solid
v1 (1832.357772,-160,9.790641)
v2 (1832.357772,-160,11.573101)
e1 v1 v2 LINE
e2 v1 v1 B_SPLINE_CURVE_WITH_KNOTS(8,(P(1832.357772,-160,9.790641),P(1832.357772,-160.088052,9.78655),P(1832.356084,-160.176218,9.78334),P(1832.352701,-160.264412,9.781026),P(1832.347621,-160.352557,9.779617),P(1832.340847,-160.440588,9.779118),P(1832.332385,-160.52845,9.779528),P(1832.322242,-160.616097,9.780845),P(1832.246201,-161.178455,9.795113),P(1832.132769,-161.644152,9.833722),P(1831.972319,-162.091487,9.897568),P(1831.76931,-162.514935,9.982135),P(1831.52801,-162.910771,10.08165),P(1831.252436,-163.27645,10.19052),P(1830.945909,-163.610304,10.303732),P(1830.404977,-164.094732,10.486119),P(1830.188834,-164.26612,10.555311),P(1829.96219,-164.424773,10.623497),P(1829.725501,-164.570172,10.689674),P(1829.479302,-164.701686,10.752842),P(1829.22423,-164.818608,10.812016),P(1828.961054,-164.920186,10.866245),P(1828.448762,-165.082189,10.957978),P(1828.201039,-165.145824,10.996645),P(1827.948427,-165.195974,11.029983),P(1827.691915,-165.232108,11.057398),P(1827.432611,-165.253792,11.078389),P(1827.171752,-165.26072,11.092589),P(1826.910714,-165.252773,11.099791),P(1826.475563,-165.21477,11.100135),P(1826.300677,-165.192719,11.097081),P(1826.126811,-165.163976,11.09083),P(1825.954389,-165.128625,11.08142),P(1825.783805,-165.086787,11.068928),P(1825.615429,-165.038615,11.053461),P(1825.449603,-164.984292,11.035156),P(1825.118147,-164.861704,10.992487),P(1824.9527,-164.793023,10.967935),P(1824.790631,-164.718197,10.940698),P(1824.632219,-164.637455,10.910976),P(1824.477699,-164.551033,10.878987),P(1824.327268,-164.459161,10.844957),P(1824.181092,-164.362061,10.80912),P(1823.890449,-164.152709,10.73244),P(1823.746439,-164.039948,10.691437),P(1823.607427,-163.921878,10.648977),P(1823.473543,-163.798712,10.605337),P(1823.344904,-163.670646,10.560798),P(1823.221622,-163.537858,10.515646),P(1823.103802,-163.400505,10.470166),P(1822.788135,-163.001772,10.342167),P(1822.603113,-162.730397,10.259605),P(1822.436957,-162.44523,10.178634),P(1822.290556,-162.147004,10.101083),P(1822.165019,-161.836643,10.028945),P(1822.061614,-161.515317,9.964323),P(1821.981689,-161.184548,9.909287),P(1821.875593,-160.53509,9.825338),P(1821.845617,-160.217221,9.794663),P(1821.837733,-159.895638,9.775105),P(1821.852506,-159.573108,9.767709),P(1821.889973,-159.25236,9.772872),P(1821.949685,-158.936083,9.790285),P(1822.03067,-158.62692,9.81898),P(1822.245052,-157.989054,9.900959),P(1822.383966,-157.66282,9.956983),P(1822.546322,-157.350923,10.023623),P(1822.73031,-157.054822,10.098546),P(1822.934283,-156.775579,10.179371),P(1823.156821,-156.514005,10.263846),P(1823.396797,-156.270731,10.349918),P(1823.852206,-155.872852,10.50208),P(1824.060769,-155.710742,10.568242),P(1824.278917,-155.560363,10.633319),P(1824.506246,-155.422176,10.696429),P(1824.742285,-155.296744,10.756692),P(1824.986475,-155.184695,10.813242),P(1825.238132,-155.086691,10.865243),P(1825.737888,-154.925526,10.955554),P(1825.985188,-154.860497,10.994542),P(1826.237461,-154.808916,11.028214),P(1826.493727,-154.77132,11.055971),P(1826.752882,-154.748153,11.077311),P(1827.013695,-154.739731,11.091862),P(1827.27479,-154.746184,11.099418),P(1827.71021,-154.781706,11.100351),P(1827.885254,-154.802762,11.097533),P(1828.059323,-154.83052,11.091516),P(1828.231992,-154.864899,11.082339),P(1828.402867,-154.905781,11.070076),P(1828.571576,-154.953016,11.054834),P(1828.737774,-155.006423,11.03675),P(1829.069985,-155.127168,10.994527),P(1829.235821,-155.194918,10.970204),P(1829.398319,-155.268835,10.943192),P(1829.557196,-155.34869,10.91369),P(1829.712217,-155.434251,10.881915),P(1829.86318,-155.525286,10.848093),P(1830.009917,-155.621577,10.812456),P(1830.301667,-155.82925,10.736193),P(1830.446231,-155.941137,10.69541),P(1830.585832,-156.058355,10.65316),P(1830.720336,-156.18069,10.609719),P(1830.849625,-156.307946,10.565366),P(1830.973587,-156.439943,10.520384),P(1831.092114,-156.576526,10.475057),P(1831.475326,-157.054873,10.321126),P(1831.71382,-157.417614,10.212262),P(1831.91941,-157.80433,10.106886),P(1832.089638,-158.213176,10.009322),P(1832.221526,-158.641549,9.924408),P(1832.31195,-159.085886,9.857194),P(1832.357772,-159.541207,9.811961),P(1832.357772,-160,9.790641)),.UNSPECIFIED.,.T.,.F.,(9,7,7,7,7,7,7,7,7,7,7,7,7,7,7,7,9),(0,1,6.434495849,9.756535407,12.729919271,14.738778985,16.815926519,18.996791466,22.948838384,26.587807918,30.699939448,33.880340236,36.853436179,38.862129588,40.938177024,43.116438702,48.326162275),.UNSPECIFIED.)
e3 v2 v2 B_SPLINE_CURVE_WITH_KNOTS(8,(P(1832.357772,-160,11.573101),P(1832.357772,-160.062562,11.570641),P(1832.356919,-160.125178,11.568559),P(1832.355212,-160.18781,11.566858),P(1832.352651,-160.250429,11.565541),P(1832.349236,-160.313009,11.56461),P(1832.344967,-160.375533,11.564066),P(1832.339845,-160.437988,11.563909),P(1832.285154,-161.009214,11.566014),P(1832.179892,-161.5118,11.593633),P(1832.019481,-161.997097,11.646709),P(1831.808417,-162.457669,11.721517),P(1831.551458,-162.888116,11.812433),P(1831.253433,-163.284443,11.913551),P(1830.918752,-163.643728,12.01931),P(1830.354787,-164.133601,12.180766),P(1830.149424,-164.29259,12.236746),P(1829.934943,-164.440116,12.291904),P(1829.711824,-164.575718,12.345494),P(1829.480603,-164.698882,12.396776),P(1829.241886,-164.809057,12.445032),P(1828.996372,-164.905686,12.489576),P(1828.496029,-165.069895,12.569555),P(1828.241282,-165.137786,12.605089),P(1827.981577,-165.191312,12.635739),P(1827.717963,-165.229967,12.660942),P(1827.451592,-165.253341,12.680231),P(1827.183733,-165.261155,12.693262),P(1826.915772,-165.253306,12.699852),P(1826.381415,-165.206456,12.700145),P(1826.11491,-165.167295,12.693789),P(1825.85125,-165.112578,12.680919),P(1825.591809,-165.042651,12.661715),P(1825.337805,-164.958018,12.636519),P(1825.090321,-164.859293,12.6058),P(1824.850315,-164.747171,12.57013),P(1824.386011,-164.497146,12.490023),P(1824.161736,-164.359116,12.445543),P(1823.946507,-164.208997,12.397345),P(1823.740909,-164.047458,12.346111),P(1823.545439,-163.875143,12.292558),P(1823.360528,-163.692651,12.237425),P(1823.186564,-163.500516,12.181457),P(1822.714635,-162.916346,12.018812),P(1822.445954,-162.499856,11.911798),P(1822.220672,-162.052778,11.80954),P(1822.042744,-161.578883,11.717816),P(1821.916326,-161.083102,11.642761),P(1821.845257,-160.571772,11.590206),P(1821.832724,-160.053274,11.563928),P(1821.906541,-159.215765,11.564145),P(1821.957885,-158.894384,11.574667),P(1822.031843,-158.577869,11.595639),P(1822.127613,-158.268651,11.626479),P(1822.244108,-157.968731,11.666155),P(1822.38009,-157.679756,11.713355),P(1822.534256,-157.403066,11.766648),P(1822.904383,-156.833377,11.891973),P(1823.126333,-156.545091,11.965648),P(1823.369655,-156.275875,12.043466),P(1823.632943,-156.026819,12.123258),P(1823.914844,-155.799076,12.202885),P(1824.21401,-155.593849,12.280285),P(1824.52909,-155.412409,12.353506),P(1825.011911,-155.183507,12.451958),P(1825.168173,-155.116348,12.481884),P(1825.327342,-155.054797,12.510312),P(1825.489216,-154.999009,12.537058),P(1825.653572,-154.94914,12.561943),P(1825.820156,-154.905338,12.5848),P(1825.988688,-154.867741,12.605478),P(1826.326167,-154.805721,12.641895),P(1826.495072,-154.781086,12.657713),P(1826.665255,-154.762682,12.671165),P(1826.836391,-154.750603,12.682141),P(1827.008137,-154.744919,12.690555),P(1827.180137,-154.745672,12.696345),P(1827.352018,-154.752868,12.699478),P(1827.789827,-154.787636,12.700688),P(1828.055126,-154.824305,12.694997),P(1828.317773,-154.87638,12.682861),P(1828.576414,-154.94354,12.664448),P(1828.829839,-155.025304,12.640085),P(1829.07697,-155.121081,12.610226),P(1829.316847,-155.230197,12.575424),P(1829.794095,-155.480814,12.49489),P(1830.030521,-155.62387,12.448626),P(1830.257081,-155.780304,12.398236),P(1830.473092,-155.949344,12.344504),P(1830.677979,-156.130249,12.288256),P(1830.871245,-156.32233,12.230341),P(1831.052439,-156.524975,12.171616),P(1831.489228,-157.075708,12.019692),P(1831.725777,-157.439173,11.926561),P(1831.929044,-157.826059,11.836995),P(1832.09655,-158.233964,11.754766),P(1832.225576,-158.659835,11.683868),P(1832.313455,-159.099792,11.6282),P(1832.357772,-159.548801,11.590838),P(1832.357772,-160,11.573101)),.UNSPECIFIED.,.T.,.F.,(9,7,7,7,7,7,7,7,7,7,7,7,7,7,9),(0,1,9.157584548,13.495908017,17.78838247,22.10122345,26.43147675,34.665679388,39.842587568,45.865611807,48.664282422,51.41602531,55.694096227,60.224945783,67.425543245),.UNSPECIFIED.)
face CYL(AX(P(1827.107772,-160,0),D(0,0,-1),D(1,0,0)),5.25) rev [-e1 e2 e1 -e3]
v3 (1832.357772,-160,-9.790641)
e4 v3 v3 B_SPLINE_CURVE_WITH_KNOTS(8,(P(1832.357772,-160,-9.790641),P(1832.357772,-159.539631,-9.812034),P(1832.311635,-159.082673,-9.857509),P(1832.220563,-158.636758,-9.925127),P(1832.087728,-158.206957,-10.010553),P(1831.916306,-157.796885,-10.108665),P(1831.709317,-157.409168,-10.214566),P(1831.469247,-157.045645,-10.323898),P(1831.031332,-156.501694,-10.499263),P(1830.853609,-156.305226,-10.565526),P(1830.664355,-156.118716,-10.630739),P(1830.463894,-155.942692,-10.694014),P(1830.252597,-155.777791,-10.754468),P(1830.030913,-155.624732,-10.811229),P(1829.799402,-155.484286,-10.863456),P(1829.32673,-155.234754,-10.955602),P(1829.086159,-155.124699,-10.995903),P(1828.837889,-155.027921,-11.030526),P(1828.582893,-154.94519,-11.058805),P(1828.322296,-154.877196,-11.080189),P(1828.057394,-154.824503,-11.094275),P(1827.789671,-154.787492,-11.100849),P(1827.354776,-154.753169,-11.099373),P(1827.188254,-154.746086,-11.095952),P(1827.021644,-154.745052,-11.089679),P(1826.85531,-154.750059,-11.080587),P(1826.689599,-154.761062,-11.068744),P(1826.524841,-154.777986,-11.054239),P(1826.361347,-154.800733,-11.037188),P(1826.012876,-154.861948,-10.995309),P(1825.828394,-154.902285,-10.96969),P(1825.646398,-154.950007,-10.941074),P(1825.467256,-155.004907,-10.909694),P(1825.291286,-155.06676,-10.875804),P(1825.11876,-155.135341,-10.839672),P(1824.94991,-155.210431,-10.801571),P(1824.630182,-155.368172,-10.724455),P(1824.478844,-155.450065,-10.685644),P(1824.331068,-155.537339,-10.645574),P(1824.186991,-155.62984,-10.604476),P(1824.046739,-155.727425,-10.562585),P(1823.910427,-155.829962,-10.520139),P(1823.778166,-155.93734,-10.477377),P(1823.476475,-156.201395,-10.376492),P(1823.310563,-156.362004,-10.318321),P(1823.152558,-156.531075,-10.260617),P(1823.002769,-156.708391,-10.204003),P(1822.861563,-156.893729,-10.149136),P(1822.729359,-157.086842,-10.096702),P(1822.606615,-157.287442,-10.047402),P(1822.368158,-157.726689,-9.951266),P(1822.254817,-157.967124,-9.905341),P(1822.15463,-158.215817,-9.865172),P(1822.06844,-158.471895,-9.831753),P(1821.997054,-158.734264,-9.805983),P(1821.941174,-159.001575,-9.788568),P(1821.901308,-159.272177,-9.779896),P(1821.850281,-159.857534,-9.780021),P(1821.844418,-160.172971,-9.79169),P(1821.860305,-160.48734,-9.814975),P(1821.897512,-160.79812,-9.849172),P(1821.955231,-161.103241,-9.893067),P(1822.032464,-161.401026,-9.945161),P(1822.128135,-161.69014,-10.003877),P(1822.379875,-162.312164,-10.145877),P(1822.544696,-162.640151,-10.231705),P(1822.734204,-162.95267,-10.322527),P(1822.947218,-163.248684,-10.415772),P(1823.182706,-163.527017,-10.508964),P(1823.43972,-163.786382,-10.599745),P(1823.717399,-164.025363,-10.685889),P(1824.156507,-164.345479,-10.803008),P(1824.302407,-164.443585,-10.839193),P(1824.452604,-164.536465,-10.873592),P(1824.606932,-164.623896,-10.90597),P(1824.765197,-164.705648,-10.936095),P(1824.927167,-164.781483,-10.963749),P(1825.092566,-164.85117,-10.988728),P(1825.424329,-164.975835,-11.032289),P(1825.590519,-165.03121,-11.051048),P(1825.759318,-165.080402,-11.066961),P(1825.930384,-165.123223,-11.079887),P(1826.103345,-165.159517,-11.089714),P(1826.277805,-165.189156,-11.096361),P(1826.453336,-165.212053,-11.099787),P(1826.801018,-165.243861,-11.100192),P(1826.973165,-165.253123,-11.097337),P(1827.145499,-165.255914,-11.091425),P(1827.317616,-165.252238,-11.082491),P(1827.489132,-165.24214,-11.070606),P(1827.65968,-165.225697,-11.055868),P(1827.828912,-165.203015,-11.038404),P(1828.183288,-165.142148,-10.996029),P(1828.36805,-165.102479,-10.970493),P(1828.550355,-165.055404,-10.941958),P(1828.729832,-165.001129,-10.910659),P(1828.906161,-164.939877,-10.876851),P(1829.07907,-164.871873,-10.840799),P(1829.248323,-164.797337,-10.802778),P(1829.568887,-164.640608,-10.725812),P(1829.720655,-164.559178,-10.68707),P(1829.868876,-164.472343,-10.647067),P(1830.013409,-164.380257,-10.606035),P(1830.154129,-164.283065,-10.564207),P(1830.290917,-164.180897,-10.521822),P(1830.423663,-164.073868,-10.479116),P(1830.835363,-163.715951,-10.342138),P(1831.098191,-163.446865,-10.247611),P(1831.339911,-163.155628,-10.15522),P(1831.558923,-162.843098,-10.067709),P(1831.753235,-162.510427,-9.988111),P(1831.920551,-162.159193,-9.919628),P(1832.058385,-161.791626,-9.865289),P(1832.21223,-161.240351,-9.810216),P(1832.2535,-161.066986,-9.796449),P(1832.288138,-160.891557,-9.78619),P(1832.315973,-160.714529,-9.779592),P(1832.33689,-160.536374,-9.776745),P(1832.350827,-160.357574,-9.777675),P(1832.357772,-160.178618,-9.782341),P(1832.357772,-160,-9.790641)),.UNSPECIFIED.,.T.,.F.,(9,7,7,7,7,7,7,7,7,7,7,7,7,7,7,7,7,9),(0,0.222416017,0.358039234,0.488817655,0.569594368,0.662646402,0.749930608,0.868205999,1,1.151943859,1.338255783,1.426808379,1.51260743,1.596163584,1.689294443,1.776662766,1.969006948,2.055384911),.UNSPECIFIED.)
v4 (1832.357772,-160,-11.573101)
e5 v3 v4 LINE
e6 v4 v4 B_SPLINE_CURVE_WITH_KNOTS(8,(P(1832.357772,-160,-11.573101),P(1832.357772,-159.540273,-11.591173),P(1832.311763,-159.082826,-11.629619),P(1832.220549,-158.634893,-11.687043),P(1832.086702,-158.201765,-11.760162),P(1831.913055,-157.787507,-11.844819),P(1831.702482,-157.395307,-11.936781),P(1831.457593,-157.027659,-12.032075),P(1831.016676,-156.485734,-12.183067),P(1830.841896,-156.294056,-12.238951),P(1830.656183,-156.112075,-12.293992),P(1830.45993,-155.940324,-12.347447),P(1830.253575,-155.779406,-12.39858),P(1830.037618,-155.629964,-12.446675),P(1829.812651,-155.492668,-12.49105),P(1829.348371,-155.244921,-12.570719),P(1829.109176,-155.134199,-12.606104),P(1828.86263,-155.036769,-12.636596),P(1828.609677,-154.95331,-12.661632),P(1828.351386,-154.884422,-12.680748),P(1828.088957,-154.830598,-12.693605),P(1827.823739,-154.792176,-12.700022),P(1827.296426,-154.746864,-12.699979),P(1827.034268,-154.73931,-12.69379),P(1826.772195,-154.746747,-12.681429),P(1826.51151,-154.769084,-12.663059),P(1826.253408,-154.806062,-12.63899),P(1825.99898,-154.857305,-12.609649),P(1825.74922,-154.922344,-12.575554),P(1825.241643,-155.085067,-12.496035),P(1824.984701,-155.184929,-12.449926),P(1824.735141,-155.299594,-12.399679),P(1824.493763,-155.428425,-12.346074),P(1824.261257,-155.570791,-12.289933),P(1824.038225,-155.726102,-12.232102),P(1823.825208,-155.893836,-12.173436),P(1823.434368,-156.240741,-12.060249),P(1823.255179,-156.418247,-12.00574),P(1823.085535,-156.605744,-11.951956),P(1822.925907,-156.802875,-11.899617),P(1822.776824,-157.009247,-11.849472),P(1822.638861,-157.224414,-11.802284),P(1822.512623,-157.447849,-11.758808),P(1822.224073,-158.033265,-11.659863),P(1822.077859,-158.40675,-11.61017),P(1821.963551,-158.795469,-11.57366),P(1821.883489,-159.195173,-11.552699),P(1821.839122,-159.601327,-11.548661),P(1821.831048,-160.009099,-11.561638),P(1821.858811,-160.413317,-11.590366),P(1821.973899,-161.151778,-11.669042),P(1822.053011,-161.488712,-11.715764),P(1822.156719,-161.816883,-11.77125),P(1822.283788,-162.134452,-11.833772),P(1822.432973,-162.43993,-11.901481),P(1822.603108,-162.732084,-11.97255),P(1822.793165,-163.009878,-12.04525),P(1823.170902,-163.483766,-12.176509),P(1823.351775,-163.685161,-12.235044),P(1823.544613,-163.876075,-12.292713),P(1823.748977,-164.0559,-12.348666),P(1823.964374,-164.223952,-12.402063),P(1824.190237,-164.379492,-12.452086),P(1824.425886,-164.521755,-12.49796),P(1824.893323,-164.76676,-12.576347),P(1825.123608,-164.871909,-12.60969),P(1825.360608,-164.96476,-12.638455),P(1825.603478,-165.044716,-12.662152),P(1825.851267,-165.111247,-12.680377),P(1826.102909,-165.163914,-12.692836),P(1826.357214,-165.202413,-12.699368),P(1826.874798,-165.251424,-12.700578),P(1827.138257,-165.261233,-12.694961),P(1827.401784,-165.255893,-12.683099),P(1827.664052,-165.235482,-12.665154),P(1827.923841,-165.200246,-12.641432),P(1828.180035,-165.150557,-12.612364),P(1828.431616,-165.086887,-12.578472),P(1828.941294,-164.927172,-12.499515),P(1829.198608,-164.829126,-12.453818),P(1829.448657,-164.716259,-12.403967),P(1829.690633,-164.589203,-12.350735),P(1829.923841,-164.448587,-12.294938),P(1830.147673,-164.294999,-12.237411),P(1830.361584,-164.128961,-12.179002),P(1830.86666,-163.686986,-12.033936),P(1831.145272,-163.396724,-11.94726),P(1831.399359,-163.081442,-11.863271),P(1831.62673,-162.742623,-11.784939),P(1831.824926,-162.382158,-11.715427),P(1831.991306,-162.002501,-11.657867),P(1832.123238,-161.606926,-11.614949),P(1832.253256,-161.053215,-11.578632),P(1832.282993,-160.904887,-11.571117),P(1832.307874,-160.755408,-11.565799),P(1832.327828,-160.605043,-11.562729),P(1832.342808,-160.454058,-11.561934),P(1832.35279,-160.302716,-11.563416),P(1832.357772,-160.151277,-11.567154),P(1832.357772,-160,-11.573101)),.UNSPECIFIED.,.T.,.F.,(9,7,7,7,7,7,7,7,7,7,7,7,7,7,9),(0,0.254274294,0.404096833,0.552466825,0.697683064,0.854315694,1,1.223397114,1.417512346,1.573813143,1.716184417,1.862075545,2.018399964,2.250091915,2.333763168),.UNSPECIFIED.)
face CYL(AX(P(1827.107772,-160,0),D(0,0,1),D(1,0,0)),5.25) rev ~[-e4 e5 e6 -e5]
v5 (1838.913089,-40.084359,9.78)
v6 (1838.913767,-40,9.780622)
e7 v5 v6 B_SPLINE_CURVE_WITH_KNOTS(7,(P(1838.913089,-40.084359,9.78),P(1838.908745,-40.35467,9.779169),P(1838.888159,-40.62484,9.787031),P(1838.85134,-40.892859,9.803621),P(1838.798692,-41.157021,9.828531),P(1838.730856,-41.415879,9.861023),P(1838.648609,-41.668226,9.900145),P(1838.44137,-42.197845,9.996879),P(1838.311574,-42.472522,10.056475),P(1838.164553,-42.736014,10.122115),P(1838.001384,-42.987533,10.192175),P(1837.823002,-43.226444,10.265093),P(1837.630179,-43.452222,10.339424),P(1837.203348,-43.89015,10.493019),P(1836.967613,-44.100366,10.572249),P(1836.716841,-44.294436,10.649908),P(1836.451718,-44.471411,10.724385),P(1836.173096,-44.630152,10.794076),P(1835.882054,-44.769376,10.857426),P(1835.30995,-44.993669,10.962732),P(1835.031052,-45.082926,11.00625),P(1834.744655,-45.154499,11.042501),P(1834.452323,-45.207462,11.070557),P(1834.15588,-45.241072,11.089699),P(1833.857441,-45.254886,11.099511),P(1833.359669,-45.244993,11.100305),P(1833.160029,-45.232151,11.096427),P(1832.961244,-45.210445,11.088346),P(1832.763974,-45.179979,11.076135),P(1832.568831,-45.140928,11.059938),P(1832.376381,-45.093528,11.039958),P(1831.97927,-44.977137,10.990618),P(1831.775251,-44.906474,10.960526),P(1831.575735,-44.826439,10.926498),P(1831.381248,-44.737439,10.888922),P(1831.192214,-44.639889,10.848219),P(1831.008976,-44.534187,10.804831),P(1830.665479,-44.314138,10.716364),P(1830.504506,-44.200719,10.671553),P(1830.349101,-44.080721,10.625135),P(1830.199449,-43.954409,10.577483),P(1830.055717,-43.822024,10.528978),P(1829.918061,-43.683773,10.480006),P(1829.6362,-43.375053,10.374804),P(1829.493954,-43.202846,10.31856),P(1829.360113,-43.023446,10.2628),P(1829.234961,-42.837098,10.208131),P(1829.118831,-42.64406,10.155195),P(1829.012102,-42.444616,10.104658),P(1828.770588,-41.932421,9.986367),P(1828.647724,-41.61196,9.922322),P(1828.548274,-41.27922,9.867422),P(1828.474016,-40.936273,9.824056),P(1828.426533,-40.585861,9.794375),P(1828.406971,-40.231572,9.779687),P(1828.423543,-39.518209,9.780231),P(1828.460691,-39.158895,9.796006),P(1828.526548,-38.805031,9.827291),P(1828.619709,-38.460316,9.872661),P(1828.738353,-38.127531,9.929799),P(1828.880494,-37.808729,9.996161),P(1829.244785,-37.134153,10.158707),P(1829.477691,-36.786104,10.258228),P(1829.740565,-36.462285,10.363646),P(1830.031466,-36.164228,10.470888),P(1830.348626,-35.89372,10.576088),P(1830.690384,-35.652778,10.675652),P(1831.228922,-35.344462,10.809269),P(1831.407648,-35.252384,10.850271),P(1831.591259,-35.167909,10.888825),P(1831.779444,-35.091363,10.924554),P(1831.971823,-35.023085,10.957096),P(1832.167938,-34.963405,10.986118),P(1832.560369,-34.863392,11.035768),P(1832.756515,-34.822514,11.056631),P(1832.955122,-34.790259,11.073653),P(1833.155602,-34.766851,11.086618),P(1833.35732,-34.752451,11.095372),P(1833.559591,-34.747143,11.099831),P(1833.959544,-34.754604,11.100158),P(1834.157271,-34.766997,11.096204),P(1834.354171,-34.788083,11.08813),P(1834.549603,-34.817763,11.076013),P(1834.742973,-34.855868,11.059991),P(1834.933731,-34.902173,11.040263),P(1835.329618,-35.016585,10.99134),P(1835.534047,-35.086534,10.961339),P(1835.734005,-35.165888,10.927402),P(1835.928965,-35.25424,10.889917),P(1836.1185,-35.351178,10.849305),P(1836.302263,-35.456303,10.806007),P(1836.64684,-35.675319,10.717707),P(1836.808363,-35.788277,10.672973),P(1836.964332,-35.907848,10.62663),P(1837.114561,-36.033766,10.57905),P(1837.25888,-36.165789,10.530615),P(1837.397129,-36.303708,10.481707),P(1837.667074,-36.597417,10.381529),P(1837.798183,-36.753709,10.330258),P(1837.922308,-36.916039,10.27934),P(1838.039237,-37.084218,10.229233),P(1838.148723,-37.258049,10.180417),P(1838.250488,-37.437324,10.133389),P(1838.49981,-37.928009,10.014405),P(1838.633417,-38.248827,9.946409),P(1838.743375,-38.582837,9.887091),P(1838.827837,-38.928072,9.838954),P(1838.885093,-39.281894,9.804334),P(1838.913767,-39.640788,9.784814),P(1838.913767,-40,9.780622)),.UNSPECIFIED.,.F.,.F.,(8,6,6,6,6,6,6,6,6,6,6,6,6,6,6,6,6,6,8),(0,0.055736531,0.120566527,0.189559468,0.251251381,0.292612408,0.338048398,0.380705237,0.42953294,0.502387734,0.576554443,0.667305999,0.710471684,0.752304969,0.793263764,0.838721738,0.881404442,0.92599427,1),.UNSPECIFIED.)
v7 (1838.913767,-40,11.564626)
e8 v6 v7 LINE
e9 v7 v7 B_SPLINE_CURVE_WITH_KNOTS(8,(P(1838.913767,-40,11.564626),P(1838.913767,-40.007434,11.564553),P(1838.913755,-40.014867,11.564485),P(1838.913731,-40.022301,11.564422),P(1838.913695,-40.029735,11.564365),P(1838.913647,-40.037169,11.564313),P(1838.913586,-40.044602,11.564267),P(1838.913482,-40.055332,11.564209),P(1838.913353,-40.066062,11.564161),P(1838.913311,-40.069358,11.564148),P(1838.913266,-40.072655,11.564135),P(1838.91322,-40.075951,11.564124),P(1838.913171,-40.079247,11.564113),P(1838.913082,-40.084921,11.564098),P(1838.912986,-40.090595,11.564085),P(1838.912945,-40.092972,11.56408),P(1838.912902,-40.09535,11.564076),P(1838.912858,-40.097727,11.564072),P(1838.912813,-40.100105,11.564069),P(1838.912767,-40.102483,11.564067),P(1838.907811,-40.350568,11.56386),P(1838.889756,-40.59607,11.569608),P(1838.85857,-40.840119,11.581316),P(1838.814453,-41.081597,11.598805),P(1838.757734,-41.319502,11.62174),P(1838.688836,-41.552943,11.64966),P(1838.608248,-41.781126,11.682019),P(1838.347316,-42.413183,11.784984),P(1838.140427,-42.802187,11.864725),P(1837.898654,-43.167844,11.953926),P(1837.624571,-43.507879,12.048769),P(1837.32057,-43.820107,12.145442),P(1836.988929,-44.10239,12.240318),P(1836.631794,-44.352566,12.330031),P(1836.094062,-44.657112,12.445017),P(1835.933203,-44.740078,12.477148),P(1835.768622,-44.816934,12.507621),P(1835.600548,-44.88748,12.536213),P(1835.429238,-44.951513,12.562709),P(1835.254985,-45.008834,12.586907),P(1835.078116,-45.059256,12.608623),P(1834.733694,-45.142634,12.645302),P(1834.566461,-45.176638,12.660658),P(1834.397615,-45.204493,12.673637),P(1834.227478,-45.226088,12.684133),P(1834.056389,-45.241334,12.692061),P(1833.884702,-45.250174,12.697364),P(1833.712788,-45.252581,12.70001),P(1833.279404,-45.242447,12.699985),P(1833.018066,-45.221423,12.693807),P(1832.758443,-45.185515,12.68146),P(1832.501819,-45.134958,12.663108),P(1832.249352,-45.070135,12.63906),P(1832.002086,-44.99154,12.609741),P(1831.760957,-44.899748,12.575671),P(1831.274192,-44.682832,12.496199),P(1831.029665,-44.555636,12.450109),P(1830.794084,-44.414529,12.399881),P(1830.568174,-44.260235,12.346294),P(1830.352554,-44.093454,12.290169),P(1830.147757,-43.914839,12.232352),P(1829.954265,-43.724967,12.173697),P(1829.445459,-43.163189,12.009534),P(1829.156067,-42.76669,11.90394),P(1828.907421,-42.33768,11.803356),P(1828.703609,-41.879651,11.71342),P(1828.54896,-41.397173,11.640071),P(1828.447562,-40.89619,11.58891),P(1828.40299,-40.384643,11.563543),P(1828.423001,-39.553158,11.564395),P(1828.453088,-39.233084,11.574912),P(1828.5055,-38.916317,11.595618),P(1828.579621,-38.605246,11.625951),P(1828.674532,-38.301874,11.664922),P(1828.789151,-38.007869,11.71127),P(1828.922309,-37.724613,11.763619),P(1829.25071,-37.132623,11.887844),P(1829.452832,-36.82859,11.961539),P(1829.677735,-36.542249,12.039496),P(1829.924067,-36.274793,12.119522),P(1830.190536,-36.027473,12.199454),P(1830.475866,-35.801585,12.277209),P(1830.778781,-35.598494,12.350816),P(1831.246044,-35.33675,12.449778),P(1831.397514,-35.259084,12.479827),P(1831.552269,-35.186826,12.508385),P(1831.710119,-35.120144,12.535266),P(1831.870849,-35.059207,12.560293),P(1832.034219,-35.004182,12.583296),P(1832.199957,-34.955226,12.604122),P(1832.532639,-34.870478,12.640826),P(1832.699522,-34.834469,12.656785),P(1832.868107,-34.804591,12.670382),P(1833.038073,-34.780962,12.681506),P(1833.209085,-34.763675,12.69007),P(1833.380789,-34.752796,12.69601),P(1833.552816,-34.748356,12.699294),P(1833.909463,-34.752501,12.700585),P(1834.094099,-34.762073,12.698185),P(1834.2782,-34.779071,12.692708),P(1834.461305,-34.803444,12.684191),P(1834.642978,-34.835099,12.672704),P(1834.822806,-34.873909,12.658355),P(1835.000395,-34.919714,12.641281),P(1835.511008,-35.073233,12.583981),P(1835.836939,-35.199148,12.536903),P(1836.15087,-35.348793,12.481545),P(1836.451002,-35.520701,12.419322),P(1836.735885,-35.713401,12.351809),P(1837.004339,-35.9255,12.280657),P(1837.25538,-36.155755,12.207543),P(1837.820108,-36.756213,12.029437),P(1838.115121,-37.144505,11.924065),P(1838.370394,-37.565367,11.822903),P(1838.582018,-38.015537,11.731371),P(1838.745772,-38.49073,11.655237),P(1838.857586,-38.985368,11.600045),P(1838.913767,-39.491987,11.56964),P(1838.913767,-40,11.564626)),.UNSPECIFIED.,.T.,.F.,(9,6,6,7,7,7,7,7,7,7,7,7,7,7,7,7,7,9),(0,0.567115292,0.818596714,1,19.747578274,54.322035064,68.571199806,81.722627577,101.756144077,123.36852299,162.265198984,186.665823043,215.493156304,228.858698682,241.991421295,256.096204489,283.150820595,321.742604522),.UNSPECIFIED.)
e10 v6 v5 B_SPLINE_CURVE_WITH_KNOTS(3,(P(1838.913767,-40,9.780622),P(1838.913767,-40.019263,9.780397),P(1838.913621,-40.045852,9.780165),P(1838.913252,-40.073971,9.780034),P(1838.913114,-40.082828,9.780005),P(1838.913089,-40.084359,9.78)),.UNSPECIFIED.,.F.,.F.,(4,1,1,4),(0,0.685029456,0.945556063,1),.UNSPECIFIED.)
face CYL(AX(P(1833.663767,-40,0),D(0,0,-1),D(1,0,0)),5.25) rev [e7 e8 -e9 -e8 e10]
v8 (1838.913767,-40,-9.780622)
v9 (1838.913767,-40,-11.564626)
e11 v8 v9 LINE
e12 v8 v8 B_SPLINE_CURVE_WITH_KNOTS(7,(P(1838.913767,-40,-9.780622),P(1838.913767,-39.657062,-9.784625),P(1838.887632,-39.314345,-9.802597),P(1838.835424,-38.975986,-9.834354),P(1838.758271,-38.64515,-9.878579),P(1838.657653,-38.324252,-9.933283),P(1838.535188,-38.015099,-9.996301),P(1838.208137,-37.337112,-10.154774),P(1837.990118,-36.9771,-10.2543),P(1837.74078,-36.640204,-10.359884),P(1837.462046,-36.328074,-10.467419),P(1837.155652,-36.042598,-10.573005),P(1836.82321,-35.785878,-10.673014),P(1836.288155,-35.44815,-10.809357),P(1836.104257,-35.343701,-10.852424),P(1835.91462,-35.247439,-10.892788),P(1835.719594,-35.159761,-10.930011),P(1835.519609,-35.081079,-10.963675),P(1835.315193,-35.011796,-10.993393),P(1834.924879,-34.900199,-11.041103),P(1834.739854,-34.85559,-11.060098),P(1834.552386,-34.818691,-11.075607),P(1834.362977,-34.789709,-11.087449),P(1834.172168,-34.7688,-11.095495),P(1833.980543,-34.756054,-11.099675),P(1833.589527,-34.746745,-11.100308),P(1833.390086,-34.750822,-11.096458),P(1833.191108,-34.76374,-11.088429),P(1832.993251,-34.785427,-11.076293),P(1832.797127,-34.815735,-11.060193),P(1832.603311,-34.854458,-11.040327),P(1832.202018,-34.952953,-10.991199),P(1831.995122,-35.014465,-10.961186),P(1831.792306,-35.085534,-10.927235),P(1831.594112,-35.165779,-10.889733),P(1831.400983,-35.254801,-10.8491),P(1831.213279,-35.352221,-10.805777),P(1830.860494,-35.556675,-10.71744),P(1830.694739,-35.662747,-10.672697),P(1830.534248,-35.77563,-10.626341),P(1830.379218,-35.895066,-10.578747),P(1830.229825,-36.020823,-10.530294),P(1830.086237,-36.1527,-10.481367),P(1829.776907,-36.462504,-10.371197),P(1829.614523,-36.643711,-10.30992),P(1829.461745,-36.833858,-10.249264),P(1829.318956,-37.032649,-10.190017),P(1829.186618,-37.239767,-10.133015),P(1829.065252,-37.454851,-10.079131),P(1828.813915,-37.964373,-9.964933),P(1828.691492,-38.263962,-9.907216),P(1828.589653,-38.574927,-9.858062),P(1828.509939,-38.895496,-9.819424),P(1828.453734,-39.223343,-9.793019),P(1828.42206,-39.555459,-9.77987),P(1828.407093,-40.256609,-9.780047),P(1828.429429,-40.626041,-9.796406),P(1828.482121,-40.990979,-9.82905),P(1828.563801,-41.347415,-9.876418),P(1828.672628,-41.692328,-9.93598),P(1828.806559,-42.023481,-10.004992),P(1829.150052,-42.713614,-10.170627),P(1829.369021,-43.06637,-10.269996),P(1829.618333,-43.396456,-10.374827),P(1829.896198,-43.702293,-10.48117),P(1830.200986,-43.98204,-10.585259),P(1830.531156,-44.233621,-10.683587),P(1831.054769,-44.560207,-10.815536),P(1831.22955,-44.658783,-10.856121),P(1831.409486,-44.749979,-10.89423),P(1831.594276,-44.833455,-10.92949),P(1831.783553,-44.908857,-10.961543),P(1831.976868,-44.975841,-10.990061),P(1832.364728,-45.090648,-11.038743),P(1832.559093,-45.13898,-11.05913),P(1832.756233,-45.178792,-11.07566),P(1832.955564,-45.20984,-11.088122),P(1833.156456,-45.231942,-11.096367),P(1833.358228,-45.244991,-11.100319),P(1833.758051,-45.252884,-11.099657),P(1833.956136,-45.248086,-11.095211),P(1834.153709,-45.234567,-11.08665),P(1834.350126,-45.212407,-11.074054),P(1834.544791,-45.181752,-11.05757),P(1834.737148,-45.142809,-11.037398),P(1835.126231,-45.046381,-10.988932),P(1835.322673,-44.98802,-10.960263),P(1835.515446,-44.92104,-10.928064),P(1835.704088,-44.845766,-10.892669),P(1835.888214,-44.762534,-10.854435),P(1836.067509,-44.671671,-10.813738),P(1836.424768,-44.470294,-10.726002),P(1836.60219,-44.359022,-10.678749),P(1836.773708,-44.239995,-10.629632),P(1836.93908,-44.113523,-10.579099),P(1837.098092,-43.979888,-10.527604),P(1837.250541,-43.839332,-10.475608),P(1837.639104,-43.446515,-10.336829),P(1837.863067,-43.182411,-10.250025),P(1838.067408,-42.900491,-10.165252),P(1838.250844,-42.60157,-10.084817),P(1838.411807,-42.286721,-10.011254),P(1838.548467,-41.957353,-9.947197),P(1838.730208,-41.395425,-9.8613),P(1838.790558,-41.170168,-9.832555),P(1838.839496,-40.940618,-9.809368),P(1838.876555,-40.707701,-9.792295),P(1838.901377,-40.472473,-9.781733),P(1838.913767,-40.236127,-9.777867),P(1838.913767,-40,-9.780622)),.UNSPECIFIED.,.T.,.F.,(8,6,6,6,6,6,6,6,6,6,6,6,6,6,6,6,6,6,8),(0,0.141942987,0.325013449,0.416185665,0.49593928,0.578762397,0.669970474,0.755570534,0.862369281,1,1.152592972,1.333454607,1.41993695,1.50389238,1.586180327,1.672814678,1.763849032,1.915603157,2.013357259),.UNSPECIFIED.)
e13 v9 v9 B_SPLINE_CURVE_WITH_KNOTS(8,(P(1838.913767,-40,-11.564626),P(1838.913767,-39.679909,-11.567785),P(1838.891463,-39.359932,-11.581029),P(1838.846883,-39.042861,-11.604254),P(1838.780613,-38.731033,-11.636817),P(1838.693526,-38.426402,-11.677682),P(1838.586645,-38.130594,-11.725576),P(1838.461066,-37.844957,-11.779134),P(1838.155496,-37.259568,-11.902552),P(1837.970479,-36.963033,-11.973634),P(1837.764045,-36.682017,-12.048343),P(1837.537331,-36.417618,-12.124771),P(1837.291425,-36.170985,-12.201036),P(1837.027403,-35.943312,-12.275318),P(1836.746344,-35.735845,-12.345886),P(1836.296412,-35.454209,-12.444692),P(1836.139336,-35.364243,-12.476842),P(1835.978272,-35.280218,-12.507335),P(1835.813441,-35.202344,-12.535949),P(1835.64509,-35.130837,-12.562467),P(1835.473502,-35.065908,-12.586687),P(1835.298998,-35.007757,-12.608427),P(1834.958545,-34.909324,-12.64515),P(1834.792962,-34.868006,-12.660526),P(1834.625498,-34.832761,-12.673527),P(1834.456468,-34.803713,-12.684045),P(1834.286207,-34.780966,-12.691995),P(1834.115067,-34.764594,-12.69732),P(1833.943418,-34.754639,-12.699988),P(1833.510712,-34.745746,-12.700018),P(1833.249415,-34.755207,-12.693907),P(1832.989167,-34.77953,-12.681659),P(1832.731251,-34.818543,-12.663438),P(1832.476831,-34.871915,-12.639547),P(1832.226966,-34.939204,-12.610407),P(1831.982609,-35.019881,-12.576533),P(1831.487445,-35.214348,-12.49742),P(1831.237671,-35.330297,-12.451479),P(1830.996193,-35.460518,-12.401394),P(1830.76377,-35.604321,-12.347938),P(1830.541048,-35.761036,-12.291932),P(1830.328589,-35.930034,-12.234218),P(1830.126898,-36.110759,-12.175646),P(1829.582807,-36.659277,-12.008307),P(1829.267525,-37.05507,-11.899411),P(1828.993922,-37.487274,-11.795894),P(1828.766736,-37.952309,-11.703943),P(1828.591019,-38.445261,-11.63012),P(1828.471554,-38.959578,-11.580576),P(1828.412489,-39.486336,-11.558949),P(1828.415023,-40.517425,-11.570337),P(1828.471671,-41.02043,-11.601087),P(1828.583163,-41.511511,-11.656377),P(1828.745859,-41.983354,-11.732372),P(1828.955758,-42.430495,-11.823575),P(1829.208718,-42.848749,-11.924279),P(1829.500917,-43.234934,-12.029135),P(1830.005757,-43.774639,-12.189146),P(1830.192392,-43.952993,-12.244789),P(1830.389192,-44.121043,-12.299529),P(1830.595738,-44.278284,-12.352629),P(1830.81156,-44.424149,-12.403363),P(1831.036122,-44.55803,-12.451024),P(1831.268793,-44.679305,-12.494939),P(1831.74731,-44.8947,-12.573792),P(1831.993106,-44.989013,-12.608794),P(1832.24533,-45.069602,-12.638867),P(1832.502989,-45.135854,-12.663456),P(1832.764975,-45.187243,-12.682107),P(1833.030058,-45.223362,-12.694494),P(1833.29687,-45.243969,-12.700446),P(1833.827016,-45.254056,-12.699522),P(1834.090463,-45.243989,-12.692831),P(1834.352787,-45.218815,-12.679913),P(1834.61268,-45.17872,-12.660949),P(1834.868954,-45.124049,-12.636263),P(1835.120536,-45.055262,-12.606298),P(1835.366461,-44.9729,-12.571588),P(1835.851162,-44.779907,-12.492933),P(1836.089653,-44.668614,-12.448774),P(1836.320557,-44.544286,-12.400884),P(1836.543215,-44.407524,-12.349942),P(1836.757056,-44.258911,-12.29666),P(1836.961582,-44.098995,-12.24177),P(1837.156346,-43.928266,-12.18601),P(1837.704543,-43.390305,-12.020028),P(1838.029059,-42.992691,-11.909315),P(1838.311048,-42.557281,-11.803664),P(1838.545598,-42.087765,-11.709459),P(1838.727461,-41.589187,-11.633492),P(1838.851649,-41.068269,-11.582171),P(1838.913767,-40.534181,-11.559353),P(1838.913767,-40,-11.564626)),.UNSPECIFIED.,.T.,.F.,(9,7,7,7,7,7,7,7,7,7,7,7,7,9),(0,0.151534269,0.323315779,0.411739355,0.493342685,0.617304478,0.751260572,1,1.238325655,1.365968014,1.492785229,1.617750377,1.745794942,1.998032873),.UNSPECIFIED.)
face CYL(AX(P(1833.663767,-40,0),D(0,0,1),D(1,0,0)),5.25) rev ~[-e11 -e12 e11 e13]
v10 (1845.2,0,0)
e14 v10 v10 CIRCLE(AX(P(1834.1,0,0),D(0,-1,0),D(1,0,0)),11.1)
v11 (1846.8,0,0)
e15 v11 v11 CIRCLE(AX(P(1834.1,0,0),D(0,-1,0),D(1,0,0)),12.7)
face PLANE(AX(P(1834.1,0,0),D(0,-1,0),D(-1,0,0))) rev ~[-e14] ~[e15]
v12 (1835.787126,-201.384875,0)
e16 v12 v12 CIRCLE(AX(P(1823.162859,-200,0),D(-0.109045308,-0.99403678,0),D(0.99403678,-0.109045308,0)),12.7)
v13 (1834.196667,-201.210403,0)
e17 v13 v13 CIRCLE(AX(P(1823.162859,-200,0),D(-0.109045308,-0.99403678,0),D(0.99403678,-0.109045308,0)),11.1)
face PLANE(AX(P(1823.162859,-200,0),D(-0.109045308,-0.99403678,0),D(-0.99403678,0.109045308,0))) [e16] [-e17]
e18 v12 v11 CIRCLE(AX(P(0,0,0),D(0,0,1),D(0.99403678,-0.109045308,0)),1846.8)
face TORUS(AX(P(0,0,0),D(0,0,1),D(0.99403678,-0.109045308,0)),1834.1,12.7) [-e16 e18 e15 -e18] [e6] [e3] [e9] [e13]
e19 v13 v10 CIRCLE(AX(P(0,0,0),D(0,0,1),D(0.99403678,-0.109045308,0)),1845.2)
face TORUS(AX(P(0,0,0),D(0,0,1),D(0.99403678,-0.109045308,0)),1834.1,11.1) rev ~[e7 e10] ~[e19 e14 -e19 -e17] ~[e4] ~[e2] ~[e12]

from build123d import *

# Parameters (mm, degrees)
F1_R          = 12.7
F1_R_2        = 11.1
F3_R          = 5.25
F4_DEPTH      = 12.7010001
F4_DEPTH_BACK = 12.7010001


with BuildPart() as f2:
    # F2: sweep along a path in F0
    with BuildLine(Plane.XY) as f2_path:
        ThreePointArc((1823.1628588801, -200), (1831.3636735329, -100.1494146961), (1834.1, 0))
    # F1 (on Front) → F2 (sweep)
    with BuildSketch(Plane.XZ):
        with Locations((1834.1, 0)):
            Circle(F1_R)
        with Locations((1834.1, 0)):
            Circle(F1_R_2, mode=Mode.SUBTRACT)
    sweep(path=f2_path.line)

    # F3 (on Top) → F4 (cut, two sides)
    with BuildSketch(Plane.XY) as f4_sk:
        with Locations((1833.6637668886, -40)):
            Circle(F3_R)
        with Locations((1827.1077718624, -160)):
            Circle(F3_R)
    extrude(amount=-F4_DEPTH, mode=Mode.SUBTRACT)
    extrude(f4_sk.sketch, amount=F4_DEPTH_BACK, mode=Mode.SUBTRACT)


solid = f2.part
